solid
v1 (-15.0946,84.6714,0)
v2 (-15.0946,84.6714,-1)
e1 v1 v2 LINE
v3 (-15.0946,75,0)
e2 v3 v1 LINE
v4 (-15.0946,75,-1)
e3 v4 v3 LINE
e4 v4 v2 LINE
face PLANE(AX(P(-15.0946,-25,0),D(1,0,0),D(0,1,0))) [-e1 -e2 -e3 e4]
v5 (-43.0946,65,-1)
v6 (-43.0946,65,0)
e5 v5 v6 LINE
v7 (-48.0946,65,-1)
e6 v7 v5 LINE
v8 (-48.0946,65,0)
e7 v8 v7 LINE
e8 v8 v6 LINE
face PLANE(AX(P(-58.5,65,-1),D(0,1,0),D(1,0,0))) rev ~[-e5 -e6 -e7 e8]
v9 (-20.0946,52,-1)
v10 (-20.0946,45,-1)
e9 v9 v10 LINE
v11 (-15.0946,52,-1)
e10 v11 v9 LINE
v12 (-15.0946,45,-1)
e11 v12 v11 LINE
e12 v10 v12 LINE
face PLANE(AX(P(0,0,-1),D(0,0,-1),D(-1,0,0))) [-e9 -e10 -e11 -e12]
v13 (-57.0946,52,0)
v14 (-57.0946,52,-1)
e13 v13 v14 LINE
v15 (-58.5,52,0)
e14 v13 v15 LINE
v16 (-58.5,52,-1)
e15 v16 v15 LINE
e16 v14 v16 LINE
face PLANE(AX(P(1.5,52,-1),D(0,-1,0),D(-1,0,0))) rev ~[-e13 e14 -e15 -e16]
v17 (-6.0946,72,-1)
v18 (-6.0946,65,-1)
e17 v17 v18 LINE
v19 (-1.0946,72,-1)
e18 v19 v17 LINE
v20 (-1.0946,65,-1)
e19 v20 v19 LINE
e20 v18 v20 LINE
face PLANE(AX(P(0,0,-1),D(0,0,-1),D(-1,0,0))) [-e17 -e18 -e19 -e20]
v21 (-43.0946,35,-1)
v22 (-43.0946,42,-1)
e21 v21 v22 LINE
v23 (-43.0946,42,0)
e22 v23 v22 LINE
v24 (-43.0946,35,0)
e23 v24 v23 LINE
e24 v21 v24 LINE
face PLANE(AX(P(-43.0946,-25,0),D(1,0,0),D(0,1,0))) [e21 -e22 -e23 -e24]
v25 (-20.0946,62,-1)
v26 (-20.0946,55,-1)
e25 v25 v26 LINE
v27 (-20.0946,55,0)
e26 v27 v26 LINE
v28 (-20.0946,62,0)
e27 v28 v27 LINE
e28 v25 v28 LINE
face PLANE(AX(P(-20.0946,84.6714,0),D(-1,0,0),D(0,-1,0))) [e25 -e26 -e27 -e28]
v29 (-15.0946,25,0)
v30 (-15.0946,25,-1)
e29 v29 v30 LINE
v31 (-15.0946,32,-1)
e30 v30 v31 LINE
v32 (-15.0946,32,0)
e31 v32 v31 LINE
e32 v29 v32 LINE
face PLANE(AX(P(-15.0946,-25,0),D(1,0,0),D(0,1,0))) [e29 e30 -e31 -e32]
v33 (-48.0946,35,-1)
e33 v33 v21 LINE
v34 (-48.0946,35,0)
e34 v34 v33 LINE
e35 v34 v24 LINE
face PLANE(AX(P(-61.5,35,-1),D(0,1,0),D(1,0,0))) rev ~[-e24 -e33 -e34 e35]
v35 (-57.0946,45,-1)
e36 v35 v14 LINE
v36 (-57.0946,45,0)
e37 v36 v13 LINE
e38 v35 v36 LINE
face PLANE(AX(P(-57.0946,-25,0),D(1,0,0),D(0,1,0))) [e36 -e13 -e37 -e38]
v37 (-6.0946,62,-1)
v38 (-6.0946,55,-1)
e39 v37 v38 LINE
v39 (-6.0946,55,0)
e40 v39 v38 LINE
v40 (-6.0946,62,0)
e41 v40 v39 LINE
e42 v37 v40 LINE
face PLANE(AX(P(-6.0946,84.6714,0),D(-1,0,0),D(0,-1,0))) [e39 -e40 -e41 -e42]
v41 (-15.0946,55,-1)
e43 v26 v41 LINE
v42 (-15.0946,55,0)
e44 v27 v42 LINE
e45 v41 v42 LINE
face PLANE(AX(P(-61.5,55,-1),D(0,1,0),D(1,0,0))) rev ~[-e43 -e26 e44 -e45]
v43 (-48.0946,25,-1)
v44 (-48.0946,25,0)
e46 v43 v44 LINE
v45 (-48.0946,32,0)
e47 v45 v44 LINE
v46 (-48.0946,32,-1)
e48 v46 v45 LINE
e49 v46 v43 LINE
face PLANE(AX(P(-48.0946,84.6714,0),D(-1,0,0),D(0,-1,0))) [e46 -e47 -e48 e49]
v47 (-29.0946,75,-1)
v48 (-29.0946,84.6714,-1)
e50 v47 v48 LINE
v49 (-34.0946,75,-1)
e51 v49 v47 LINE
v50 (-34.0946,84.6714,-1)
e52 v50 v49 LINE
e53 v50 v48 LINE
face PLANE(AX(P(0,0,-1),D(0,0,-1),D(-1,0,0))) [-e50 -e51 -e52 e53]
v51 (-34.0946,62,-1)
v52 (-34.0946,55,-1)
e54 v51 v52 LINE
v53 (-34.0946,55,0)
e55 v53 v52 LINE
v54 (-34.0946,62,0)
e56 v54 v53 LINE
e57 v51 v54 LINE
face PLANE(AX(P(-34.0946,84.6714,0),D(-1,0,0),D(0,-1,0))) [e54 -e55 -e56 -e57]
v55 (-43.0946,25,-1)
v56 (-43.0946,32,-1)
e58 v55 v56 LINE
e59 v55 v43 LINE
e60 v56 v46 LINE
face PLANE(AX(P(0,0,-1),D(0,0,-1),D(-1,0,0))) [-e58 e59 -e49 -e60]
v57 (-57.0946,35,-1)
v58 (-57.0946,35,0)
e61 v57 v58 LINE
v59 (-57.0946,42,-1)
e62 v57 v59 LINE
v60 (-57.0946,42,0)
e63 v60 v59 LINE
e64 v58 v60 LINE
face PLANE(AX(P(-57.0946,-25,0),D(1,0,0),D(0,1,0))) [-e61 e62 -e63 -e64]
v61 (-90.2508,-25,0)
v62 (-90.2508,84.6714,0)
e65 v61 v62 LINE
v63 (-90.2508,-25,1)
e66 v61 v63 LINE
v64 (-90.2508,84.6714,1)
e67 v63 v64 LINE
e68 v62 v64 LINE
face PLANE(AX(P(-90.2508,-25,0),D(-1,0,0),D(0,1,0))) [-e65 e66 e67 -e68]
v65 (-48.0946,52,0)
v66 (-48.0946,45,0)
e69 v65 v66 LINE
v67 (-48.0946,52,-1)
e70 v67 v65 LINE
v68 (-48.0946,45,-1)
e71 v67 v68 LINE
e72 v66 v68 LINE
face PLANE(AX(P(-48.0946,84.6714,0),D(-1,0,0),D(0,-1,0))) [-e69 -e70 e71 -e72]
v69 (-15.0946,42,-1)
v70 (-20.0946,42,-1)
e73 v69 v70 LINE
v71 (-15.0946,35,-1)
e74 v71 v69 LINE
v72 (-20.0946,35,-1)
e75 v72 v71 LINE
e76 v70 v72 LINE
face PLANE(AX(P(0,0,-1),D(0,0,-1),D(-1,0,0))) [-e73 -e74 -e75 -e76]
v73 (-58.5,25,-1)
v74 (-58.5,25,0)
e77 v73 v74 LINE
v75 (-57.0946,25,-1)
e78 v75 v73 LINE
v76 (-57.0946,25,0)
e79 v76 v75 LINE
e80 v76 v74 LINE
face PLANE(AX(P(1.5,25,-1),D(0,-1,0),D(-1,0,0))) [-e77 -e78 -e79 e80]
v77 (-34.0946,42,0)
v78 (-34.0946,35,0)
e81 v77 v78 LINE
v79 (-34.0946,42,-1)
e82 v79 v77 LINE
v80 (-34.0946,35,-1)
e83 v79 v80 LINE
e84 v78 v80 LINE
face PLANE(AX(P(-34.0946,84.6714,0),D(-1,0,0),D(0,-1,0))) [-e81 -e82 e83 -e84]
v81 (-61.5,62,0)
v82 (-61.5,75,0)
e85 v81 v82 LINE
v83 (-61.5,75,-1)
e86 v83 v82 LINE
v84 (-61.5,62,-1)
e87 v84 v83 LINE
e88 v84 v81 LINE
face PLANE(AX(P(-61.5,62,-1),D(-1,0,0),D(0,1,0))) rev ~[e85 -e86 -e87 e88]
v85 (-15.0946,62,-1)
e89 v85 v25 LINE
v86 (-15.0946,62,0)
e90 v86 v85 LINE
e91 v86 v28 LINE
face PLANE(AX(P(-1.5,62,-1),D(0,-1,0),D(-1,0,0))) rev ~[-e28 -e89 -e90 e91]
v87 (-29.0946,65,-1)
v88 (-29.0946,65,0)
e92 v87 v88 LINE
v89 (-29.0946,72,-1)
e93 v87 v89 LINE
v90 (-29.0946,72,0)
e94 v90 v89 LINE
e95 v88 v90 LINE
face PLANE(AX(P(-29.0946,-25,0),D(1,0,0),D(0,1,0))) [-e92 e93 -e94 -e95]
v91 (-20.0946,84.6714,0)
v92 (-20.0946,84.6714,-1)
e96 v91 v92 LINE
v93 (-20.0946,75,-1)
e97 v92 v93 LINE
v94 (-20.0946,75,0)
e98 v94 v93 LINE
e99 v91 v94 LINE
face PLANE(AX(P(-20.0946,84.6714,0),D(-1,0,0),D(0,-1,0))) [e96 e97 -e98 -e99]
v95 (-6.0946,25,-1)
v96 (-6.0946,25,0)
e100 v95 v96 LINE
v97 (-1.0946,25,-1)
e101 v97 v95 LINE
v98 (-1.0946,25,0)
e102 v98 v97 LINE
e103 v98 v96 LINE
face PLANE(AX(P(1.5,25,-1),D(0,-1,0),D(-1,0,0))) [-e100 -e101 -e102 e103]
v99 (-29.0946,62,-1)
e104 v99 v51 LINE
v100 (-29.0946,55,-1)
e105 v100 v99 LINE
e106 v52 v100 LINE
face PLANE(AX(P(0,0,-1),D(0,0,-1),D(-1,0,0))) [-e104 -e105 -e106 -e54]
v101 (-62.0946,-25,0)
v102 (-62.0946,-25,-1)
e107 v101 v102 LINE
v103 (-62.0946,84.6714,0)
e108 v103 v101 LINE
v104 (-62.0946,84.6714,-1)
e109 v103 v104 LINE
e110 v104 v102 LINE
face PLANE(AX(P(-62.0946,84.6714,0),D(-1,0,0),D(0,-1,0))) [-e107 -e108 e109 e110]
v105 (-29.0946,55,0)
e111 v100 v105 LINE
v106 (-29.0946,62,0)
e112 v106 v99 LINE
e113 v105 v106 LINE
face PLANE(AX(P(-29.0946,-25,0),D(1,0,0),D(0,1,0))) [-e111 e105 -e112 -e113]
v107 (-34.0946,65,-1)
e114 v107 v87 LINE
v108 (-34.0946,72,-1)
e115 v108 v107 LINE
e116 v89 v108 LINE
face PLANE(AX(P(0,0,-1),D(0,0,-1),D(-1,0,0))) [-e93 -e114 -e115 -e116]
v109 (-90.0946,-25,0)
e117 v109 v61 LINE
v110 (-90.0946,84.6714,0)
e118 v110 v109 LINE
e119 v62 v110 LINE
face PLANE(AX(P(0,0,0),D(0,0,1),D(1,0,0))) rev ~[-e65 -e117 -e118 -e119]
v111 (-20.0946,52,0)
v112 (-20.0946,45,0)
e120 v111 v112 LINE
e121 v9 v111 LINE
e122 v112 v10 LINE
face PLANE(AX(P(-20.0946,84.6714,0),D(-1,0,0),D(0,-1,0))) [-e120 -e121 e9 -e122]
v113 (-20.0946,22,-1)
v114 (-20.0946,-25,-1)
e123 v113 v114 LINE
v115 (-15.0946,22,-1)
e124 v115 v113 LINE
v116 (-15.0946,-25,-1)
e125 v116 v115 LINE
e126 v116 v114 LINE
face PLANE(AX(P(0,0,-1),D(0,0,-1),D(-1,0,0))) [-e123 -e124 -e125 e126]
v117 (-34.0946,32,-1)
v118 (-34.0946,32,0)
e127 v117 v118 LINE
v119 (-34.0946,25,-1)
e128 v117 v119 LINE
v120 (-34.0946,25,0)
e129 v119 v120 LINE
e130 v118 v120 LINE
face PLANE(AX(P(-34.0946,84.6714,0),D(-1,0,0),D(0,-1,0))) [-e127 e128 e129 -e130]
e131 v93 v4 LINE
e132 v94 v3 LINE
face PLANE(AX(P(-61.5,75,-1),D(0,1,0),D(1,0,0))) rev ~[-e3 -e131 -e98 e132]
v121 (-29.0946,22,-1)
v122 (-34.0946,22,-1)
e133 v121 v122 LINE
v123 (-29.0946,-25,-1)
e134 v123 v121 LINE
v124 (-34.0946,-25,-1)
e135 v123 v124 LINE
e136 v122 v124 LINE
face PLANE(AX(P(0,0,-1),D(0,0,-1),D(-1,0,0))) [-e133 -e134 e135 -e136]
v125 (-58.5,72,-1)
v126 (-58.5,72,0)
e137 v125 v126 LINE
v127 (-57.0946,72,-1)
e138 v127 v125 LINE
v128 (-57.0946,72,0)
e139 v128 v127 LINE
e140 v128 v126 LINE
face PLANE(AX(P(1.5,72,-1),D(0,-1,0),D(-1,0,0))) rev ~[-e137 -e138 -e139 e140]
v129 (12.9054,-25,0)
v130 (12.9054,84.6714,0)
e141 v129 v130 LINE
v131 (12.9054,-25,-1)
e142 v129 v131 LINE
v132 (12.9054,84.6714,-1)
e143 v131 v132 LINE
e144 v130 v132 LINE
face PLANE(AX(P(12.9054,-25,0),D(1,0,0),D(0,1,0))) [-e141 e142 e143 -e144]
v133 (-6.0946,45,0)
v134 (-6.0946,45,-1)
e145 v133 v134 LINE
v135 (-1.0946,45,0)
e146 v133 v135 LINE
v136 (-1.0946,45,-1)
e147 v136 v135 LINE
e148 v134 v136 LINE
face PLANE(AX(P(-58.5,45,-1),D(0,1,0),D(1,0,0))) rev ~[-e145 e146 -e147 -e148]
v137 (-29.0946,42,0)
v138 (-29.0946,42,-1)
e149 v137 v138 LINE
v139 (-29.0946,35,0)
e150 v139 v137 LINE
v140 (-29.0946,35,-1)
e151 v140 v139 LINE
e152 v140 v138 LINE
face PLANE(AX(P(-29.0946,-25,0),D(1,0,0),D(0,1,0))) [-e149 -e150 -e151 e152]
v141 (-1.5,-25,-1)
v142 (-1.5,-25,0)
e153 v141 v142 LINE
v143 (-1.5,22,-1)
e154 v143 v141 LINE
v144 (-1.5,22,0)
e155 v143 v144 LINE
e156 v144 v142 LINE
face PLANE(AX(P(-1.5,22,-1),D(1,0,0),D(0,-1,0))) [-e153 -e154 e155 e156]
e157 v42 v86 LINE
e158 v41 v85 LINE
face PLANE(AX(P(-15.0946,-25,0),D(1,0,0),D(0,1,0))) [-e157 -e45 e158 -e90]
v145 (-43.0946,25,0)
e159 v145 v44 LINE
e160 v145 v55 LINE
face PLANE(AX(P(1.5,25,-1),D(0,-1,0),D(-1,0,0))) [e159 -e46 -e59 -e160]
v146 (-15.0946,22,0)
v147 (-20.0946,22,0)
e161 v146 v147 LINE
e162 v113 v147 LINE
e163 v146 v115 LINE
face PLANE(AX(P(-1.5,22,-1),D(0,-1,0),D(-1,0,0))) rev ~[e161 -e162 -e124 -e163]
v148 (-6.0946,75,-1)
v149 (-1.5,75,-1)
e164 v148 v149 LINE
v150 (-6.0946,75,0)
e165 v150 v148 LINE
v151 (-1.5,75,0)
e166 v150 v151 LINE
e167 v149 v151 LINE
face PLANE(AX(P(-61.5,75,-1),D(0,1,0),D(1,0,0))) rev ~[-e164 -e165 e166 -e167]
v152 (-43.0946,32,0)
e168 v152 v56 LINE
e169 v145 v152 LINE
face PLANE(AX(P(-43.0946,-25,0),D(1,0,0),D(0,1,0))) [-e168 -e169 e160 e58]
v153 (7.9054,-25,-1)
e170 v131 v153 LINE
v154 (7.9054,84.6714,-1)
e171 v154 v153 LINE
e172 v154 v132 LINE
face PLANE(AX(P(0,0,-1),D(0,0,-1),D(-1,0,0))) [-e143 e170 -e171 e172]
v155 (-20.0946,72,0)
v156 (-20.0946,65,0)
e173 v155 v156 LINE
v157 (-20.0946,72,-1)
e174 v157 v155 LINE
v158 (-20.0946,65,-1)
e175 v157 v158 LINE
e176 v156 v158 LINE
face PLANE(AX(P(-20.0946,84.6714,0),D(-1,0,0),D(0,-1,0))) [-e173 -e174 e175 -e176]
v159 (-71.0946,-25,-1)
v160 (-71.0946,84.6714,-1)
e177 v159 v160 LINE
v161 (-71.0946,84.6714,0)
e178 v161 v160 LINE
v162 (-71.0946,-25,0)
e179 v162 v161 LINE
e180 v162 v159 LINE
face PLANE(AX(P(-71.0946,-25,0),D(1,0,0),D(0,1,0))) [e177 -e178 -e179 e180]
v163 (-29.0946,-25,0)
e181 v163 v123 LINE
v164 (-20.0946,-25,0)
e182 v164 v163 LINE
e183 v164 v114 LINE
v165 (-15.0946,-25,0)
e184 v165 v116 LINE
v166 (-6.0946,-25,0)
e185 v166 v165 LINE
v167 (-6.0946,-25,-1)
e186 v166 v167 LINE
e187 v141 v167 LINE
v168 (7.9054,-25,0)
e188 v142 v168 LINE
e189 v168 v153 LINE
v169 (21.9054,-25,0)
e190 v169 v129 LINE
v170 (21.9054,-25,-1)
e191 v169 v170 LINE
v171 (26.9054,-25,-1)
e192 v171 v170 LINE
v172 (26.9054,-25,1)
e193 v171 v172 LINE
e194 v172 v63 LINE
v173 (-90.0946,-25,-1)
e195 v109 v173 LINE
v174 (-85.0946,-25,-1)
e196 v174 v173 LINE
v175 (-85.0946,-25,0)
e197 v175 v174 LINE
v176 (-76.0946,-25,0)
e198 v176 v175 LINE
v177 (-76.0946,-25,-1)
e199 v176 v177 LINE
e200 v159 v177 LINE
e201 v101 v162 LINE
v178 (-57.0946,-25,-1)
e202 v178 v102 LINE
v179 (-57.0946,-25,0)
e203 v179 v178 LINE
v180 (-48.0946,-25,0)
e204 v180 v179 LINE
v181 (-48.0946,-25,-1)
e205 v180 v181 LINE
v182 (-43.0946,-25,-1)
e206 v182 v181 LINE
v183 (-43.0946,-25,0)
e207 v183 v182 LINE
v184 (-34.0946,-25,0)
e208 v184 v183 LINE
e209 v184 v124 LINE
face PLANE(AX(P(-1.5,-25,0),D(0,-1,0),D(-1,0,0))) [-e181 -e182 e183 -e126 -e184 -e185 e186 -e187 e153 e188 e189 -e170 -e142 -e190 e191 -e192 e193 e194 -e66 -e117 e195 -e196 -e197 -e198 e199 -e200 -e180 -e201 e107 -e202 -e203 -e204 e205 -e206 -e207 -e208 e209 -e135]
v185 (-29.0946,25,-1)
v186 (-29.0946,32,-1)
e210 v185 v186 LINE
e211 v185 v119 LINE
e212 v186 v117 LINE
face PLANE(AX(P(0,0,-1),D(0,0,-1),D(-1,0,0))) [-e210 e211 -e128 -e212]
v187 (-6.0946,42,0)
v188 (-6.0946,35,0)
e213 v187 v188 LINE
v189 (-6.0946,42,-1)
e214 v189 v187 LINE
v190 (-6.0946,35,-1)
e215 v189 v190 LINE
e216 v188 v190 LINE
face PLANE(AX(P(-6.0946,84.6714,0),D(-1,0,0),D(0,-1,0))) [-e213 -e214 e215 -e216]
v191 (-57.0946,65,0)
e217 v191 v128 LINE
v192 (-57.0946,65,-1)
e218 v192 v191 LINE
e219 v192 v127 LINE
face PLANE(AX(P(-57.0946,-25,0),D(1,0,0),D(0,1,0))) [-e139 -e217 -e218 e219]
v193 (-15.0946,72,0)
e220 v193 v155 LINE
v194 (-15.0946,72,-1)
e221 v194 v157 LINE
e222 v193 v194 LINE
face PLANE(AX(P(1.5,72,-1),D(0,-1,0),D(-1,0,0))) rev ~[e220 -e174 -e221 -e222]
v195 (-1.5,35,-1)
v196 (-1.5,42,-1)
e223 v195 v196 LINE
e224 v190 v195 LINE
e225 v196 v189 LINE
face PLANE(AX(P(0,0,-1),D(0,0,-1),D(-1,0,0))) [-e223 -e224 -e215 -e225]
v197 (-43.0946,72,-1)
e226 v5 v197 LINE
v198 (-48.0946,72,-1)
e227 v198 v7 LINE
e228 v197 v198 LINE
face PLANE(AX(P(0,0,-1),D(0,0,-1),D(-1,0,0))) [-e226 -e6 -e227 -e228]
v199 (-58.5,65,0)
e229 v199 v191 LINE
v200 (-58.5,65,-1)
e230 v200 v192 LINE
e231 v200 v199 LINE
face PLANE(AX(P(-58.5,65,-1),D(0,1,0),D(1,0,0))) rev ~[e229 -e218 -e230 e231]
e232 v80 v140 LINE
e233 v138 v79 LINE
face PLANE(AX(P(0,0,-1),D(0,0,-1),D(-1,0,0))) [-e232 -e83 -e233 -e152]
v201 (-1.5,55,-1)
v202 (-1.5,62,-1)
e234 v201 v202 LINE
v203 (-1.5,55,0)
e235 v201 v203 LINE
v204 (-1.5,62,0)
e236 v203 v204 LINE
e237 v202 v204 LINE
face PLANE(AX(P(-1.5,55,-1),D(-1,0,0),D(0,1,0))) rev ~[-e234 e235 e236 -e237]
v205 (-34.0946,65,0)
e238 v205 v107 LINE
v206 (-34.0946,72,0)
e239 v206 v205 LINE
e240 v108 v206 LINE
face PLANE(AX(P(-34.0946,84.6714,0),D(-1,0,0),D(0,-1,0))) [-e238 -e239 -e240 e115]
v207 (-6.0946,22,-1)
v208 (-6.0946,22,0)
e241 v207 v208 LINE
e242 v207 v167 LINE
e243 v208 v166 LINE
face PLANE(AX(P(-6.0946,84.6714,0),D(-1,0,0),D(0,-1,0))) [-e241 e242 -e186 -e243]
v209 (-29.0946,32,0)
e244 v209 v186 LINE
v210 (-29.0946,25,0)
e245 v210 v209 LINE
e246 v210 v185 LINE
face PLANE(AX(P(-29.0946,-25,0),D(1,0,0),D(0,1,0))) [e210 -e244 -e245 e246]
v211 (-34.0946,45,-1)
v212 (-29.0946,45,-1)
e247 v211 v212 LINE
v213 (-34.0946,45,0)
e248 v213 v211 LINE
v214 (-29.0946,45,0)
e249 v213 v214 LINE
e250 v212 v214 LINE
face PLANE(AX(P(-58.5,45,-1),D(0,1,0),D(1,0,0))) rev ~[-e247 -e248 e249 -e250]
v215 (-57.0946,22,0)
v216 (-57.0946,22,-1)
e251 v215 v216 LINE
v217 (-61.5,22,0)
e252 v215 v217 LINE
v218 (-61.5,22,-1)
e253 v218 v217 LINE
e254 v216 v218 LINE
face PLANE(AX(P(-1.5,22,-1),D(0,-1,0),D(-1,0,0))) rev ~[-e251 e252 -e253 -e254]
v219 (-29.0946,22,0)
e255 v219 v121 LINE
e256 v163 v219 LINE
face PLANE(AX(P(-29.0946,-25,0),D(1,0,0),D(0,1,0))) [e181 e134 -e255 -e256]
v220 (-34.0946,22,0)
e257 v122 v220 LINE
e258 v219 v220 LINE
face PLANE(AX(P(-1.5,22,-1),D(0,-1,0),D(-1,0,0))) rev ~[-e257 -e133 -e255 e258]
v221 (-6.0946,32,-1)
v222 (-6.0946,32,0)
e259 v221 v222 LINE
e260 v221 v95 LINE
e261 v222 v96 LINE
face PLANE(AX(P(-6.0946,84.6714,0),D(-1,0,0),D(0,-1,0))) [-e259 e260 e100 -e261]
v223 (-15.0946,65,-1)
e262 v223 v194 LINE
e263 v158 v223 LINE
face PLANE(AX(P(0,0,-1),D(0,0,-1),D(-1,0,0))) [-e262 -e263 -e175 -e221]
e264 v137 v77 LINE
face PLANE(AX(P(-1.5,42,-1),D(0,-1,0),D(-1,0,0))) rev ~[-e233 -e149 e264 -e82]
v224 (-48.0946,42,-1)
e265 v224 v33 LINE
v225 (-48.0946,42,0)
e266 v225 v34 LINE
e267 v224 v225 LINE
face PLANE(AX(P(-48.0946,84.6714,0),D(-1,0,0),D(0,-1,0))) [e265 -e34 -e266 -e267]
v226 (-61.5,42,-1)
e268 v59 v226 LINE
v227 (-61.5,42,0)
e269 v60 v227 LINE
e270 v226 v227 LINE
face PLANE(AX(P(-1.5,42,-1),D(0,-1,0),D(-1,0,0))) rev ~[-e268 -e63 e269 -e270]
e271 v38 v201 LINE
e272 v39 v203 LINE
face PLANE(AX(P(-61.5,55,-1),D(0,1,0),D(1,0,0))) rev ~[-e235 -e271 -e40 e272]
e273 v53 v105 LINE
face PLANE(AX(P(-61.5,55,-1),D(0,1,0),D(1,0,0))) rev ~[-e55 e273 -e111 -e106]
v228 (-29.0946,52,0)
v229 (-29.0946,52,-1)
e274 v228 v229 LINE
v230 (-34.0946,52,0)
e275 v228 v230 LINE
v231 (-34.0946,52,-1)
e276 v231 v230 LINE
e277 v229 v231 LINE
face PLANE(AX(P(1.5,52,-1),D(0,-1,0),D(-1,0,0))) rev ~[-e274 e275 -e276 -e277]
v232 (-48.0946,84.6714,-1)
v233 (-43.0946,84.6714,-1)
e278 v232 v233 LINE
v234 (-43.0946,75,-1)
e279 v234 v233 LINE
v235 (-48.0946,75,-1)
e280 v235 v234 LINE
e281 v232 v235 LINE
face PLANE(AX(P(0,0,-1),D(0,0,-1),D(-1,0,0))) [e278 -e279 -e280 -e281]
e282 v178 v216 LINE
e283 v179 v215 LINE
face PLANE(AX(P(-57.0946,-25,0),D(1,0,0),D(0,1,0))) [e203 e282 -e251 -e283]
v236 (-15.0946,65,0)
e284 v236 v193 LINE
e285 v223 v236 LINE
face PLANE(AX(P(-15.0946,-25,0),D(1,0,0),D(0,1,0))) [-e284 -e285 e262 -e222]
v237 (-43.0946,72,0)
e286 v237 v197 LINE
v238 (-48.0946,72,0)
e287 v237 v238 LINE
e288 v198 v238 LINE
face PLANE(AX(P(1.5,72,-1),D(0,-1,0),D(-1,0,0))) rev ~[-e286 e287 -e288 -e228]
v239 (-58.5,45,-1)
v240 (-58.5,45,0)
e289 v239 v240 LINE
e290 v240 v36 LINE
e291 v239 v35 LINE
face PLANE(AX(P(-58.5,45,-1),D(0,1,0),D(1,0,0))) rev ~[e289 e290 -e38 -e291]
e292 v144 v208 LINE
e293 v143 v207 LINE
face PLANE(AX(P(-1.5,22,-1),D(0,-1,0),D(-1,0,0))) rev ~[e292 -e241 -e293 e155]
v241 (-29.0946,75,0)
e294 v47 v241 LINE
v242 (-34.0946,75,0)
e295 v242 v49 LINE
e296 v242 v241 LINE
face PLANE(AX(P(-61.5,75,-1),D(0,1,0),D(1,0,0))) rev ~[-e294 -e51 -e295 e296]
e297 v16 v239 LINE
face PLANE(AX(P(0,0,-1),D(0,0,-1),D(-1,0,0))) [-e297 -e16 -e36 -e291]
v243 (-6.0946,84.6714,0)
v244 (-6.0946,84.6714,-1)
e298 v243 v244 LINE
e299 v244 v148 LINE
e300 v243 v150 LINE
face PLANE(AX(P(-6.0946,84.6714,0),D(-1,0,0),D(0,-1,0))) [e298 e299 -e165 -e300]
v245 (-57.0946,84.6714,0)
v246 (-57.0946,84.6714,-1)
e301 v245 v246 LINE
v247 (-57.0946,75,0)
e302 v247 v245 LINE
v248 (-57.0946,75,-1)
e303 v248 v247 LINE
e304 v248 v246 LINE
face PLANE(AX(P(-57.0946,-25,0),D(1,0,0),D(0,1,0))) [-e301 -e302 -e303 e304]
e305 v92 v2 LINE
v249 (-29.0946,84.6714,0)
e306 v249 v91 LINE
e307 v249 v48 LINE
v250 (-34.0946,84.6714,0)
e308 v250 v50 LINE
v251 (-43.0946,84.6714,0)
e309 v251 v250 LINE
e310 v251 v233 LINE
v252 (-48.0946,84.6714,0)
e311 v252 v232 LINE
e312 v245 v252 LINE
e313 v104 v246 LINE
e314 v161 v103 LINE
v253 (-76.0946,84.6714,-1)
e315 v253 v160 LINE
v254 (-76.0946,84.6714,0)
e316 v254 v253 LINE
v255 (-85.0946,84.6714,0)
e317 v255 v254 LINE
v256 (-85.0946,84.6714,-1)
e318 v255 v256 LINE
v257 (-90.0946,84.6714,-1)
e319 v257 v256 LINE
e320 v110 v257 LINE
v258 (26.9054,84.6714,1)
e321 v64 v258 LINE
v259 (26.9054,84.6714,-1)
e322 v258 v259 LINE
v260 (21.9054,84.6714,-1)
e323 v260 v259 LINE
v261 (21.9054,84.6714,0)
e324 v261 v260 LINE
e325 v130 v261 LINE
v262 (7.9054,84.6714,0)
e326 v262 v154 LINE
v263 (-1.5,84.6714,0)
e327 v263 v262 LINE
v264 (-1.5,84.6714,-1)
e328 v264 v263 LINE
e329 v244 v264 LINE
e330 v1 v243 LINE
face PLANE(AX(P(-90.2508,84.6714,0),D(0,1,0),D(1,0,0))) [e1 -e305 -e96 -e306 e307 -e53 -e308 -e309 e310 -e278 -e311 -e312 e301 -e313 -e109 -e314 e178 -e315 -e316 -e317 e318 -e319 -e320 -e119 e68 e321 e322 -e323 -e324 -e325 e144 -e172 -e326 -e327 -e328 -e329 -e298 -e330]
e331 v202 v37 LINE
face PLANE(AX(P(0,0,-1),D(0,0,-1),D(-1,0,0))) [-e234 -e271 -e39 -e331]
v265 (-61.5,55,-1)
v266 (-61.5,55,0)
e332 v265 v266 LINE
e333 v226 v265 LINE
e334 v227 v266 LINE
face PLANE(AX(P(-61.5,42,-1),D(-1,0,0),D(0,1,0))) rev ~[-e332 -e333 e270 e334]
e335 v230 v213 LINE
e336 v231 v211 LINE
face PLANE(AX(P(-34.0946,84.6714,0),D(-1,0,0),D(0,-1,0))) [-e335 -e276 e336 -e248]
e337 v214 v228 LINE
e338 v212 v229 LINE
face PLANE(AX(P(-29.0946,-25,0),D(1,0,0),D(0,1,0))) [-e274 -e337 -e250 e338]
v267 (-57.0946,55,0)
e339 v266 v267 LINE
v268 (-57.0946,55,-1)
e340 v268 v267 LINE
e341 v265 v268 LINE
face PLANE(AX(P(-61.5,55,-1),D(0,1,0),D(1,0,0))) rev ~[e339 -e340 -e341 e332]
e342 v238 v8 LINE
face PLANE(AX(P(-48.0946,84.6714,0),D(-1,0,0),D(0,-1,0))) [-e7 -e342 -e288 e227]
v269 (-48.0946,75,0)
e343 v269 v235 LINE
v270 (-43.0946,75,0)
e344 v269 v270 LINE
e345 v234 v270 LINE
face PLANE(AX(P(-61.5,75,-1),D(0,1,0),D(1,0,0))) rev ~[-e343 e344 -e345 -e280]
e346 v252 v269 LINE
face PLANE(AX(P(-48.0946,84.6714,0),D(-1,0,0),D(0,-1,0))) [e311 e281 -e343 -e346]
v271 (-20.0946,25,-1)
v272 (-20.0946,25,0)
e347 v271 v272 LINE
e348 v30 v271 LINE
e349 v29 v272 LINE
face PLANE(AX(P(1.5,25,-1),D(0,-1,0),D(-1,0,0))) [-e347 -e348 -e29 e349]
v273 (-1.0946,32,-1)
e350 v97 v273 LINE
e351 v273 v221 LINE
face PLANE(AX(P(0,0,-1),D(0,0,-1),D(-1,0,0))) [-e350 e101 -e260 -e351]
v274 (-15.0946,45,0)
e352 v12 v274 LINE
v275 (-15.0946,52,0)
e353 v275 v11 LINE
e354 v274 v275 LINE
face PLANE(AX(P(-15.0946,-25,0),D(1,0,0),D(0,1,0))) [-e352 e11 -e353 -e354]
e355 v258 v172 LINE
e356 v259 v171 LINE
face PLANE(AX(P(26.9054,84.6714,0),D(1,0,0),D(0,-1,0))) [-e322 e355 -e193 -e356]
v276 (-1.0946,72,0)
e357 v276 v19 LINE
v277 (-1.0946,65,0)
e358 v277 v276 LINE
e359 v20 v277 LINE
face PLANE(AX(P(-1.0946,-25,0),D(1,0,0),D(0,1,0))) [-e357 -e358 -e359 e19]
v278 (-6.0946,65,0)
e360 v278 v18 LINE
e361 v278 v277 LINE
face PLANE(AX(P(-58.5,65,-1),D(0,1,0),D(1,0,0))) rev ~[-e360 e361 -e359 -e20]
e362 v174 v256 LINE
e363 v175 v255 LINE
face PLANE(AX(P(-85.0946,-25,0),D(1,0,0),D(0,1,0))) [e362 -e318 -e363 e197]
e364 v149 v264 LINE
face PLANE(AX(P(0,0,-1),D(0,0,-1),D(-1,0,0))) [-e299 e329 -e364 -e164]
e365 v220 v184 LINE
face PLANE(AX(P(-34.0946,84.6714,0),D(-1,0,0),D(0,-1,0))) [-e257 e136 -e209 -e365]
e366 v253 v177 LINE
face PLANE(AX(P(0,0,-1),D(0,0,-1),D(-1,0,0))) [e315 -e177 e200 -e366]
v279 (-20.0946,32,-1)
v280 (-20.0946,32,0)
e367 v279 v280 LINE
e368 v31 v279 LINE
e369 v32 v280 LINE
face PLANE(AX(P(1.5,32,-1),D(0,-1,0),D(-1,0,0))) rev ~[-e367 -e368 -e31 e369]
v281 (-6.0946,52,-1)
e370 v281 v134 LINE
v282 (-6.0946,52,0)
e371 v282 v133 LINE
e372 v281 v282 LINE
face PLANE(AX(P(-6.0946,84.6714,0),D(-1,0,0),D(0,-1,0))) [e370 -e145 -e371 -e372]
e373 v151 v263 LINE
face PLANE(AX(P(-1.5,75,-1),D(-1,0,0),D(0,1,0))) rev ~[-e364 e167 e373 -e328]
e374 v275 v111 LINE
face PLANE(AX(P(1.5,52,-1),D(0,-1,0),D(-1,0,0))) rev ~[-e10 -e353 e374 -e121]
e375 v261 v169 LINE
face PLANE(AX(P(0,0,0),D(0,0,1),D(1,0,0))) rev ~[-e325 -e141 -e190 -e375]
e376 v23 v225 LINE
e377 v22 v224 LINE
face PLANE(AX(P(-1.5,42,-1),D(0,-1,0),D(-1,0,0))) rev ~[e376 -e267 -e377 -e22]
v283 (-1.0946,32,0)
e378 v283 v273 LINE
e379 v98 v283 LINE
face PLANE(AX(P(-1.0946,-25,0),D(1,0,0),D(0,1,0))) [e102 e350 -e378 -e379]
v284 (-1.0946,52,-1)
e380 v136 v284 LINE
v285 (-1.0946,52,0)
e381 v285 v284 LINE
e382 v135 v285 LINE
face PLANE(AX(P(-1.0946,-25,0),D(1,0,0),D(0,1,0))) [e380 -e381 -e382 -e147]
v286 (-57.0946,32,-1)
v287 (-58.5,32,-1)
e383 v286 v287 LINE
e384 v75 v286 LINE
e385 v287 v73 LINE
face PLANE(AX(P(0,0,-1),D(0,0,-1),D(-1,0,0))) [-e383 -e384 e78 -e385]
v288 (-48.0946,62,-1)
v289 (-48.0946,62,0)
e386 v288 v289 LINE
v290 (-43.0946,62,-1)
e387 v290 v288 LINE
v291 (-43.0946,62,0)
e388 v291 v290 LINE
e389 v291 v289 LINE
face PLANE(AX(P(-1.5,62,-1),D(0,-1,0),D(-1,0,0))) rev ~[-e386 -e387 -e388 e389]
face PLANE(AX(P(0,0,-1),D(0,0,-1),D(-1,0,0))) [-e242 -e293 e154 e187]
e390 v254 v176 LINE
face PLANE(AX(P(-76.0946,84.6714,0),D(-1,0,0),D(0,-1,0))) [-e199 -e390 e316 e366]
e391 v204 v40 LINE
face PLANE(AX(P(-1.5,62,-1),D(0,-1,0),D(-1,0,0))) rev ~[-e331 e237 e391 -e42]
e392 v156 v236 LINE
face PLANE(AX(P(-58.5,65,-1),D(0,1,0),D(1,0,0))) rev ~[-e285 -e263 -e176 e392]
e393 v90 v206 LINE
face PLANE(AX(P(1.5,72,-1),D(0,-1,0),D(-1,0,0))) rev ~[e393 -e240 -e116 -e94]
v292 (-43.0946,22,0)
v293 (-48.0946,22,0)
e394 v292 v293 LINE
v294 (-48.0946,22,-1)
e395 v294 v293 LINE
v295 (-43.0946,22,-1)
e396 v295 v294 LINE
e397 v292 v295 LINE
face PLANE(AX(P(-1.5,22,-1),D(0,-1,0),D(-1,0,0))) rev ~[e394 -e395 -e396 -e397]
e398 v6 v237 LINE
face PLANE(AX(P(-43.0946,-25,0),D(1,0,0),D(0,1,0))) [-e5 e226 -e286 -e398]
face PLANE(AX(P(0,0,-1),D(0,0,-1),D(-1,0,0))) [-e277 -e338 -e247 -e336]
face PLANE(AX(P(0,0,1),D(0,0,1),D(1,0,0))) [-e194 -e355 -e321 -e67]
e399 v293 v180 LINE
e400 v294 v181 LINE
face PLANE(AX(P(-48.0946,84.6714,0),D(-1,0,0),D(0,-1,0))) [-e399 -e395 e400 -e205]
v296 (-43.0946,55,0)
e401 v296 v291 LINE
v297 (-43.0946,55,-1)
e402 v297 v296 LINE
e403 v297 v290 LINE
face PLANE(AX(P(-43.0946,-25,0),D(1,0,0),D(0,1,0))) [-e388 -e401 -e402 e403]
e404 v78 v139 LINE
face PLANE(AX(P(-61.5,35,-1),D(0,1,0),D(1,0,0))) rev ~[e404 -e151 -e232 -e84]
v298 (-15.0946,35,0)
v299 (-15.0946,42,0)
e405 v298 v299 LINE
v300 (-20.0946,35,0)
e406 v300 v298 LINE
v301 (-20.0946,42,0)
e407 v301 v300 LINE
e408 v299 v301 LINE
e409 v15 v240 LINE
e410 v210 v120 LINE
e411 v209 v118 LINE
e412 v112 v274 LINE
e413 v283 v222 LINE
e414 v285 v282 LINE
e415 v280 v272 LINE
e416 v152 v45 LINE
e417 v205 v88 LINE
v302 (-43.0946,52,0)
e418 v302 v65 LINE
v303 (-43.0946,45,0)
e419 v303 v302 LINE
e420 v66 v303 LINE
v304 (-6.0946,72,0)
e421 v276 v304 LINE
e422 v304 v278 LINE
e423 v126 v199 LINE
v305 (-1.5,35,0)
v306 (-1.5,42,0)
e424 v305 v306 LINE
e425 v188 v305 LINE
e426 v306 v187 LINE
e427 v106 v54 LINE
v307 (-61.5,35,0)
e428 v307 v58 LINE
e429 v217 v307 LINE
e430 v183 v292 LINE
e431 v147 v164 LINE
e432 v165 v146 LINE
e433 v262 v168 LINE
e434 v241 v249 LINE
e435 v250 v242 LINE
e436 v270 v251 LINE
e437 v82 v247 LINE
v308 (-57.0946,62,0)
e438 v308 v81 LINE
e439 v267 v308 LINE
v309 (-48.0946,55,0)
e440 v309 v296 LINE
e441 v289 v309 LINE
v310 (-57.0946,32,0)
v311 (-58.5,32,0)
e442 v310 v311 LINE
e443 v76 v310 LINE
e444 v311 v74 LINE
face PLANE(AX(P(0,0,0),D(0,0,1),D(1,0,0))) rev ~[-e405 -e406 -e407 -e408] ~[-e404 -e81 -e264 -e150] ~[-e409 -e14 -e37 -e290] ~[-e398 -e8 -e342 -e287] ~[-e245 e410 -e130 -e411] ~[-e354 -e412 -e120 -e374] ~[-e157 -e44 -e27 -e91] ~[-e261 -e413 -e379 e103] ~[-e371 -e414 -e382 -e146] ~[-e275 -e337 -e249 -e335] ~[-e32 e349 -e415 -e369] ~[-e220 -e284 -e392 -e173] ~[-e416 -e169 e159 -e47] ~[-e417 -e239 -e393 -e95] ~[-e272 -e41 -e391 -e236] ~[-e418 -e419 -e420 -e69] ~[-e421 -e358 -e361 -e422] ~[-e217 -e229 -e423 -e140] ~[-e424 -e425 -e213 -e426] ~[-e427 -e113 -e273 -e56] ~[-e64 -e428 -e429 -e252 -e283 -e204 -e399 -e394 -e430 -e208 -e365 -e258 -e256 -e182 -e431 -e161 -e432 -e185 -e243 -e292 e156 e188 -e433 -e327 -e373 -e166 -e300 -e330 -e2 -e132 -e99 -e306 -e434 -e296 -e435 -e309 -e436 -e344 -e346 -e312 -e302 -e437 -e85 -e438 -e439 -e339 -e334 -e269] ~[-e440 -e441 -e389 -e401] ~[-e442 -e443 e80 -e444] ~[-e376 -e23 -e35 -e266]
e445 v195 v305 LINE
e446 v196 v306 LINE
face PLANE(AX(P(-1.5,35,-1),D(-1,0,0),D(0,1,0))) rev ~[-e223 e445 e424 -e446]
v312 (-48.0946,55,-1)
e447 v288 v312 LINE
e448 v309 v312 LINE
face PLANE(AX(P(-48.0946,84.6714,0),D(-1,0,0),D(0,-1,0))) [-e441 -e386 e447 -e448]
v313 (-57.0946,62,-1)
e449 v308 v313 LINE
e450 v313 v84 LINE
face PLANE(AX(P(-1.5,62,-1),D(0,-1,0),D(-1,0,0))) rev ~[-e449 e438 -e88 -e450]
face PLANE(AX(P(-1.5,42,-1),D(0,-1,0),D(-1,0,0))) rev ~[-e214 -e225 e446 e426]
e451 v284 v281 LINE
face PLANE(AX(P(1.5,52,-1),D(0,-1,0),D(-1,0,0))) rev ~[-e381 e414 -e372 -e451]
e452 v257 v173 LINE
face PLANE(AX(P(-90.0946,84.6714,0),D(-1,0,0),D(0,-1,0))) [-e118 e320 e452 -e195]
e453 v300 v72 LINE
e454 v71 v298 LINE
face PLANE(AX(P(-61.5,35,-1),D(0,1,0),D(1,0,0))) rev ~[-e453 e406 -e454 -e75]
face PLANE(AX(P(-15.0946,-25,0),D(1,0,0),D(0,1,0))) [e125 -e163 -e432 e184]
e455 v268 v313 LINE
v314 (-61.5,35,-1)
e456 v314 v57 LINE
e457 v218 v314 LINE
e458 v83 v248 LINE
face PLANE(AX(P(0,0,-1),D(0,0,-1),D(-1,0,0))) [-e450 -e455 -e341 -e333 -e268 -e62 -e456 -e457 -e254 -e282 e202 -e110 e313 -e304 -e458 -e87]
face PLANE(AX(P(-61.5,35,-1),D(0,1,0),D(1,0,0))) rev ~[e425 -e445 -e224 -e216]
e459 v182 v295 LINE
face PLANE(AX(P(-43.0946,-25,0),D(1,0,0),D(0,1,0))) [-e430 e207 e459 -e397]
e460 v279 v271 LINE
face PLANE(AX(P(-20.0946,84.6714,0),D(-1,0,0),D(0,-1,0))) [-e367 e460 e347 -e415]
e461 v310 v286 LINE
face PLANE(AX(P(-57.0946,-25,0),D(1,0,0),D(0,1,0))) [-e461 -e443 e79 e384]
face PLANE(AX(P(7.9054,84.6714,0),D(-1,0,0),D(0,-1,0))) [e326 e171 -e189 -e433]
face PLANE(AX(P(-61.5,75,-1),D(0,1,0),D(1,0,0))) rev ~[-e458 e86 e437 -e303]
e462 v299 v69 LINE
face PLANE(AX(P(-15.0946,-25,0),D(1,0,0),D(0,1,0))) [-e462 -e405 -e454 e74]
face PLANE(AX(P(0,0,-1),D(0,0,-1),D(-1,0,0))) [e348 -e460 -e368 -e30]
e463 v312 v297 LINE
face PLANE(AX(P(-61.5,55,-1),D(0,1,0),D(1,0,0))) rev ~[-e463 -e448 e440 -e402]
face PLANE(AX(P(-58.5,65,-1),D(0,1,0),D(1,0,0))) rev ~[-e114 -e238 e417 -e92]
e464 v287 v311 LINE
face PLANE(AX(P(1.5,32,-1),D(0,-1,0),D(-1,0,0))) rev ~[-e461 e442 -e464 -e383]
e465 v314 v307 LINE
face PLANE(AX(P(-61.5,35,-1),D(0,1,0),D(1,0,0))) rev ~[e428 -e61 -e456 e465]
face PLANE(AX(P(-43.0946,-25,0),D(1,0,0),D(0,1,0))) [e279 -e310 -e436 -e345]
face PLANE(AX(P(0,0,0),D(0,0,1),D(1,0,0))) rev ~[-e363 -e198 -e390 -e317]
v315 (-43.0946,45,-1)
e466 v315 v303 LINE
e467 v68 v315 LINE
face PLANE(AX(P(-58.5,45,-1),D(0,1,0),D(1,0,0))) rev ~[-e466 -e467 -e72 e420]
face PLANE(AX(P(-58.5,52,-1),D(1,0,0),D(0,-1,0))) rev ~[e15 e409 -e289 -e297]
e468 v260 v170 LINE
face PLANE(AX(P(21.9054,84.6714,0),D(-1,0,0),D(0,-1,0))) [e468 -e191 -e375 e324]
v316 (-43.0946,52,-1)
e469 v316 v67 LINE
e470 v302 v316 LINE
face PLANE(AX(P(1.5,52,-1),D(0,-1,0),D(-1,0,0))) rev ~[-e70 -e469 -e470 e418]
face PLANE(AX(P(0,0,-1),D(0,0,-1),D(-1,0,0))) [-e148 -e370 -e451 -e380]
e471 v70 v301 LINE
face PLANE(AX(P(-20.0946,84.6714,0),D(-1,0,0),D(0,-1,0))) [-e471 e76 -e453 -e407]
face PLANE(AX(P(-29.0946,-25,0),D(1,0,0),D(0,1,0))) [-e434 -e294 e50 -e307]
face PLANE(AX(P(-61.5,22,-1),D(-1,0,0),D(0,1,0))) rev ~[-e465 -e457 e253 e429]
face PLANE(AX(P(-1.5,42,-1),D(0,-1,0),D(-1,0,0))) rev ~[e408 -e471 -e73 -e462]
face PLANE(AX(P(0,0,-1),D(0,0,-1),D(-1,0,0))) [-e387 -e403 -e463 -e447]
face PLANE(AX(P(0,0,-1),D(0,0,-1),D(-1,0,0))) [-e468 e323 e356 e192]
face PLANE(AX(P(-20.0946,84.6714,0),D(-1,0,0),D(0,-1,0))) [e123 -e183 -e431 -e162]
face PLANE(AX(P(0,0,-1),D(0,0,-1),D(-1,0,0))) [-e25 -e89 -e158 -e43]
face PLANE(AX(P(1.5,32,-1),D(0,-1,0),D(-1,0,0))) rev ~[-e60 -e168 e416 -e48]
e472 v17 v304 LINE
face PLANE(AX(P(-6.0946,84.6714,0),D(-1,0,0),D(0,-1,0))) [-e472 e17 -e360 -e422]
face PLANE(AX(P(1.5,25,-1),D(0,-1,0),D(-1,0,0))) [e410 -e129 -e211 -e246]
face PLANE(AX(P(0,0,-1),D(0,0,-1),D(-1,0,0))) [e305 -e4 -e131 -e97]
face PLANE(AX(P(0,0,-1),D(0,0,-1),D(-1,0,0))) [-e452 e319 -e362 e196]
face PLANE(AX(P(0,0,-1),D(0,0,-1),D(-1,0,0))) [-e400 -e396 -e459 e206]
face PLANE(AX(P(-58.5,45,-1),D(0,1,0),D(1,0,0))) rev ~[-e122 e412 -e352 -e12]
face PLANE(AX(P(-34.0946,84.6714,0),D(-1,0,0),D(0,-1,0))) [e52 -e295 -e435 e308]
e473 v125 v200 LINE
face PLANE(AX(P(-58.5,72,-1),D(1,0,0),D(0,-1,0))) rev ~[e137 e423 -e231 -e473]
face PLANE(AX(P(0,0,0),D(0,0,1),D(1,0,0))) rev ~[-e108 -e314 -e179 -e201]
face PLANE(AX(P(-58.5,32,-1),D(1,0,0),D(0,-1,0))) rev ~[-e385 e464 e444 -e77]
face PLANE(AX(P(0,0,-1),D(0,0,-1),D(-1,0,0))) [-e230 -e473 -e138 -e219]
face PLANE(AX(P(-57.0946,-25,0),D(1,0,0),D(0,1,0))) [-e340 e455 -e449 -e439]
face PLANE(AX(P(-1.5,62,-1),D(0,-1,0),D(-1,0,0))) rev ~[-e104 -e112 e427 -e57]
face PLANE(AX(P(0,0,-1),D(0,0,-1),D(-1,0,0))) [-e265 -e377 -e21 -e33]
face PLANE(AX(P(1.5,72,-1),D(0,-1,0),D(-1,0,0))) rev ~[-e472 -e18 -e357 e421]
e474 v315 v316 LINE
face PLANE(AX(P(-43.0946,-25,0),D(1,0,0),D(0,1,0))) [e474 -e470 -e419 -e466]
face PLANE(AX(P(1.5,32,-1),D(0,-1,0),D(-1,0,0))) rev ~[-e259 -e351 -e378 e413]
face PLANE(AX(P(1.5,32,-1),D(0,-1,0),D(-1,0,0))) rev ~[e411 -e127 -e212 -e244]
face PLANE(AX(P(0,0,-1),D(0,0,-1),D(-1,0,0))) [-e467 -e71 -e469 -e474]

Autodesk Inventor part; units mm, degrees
ref_plane "YZ Plane" through (0, 0, 0) normal (1, 0, 0) x (0, 1, 0)
ref_plane "XZ Plane" through (0, 0, 0) normal (0, 1, 0) x (-1, 0, 0)
ref_plane "XY Plane" through (0, 0, 0) normal (0, 0, 1) x (1, 0, 0)
sketch "Sketch1" plane through (0, 0, 0) normal (0, 0, 1) x (1, 0, 0)
  line L0 (-1.5, -25) -> (-0.2518, -25) projected
  line L1 (26.9054, -25) -> (-90.2508, -25)
  line L2 (-90.2508, -25) -> (-90.2508, 84.6714)
  line L3 (-90.2508, 84.6714) -> (26.9054, 84.6714)
  line L4 (26.9054, 84.6714) -> (26.9054, -25)
  point P0 (0, 0)
extrude "Extrusion1" add sketch "Sketch1" along normal blind 1
sketch "Sketch2" plane through (0, 0, 0) normal (0, 0, -1) x (-1, 0, 0)
  point P0 (0, 0)
sketch "Sketch3" plane through (0, 0, 0) normal (0, 0, -1) x (-1, 0, 0)
  line L0 (-26.9054, -25) -> (90.2508, -25) projected
  line L1 (90.2508, -25) -> (90.2508, 84.6714) projected
  line L2 (90.2508, 84.6714) -> (-26.9054, 84.6714) projected
  line L3 (-26.9054, 84.6714) -> (-26.9054, -25) projected
  line L4 (-26.9054, -25) -> (-26.9054, 84.6714) projected
  line L5 (90.2508, -25) -> (-26.9054, -25) projected
  line L6 (-26.9054, 84.6714) -> (-21.9054, 84.6714)
  line L7 (-21.9054, 84.6714) -> (-21.9054, -25)
  line L8 (-21.9054, -25) -> (-26.9054, -25)
  line L9 (-26.9054, -25) -> (-26.9054, 84.6714)
  line L10 (-12.9054, 84.6714) -> (-7.9054, 84.6714)
  line L11 (-7.9054, 84.6714) -> (-7.9054, -25)
  line L12 (-7.9054, -25) -> (-12.9054, -25)
  line L13 (-12.9054, -25) -> (-12.9054, 84.6714)
  line L14 (1.0946, 84.6714) -> (6.0946, 84.6714)
  line L15 (6.0946, 84.6714) -> (6.0946, -25)
  line L16 (6.0946, -25) -> (1.0946, -25)
  line L17 (1.0946, -25) -> (1.0946, 84.6714)
  line L18 (15.0946, 84.6714) -> (20.0946, 84.6714)
  line L19 (20.0946, 84.6714) -> (20.0946, -25)
  line L20 (20.0946, -25) -> (15.0946, -25)
  line L21 (15.0946, -25) -> (15.0946, 84.6714)
  line L22 (29.0946, 84.6714) -> (34.0946, 84.6714)
  line L23 (34.0946, 84.6714) -> (34.0946, -25)
  line L24 (34.0946, -25) -> (29.0946, -25)
  line L25 (29.0946, -25) -> (29.0946, 84.6714)
  line L26 (43.0946, 84.6714) -> (48.0946, 84.6714)
  line L27 (48.0946, 84.6714) -> (48.0946, -25)
  line L28 (48.0946, -25) -> (43.0946, -25)
  line L29 (43.0946, -25) -> (43.0946, 84.6714)
  line L30 (57.0946, 84.6714) -> (62.0946, 84.6714)
  line L31 (62.0946, 84.6714) -> (62.0946, -25)
  line L32 (62.0946, -25) -> (57.0946, -25)
  line L33 (57.0946, -25) -> (57.0946, 84.6714)
  line L34 (71.0946, 84.6714) -> (76.0946, 84.6714)
  line L35 (76.0946, 84.6714) -> (76.0946, -25)
  line L36 (76.0946, -25) -> (71.0946, -25)
  line L37 (71.0946, -25) -> (71.0946, 84.6714)
  line L38 (85.0946, 84.6714) -> (90.0946, 84.6714)
  line L39 (90.0946, 84.6714) -> (90.0946, -25)
  line L40 (90.0946, -25) -> (85.0946, -25)
  line L41 (85.0946, -25) -> (85.0946, 84.6714)
  point P0 (0, 0)
  point P1 (-12.9054, -25)
  point P2 (1.0946, -25)
  point P3 (15.0946, -25)
  point P4 (29.0946, -25)
  point P5 (43.0946, -25)
  point P6 (57.0946, -25)
  point P7 (71.0946, -25)
  dimension "d2" = 5
  dimension "d5" = 14
extrude "Extrusion2" add sketch "Sketch3" along normal blind 1 contours L3 L2 L7 L0 | L13 L2 L11 L0 | L17 L2 L15 L0 | L21 L2 L19 L0 | L25 L2 L23 L0 | L29 L2 L27 L0 | L33 L2 L31 L0 | L37 L2 L35 L0 | L41 L2 L39 L0
sketch "Sketch4" plane through (0, 0, -1) normal (0, 0, -1) x (-1, 0, 0)
  line L0 (-1.5, 25) -> (58.5, 25) projected
  line L1 (-1.5, -25) -> (-1.5, 25) projected
  line L2 (-0.2518, -25) -> (-1.5, -25) projected
  line L3 (0.2518, -25) -> (-0.2518, -25) projected
  line L4 (1.5, -25) -> (0.2518, -25) projected
  line L5 (1.5, 22) -> (1.5, -25) projected
  line L6 (1.5, 22) -> (61.5, 22) projected
  line L7 (61.5, 22) -> (61.5, 35) projected
  line L8 (61.5, 35) -> (1.5, 35) projected
  line L9 (1.5, 35) -> (1.5, 42) projected
  line L10 (1.5, 42) -> (61.5, 42) projected
  line L11 (61.5, 42) -> (61.5, 55) projected
  line L12 (61.5, 55) -> (1.5, 55) projected
  line L13 (1.5, 55) -> (1.5, 62) projected
  line L14 (1.5, 62) -> (61.5, 62) projected
  line L15 (61.5, 62) -> (61.5, 75) projected
  line L16 (61.5, 75) -> (1.5, 75) projected
  line L17 (1.5, 75) -> (1.5, 85) projected
  line L18 (1.5, 85) -> (-1.5, 85) projected
  line L19 (-1.5, 85) -> (-1.5, 72) projected
  line L20 (-1.5, 72) -> (58.5, 72) projected
  line L21 (58.5, 72) -> (58.5, 65) projected
  line L22 (58.5, 65) -> (-1.5, 65) projected
  line L23 (-1.5, 65) -> (-1.5, 52) projected
  line L24 (-1.5, 52) -> (58.5, 52) projected
  line L25 (58.5, 52) -> (58.5, 45) projected
  line L26 (58.5, 45) -> (-1.5, 45) projected
  line L27 (-1.5, 45) -> (-1.5, 32) projected
  line L28 (-1.5, 32) -> (58.5, 32) projected
  line L29 (58.5, 32) -> (58.5, 25) projected
  point P0 (0, 0)
extrude "Extrusion3" cut sketch "Sketch4" against normal up to surface (1 mm away)
properties part number "cellSTORM_laserbeam_meander_chip"
